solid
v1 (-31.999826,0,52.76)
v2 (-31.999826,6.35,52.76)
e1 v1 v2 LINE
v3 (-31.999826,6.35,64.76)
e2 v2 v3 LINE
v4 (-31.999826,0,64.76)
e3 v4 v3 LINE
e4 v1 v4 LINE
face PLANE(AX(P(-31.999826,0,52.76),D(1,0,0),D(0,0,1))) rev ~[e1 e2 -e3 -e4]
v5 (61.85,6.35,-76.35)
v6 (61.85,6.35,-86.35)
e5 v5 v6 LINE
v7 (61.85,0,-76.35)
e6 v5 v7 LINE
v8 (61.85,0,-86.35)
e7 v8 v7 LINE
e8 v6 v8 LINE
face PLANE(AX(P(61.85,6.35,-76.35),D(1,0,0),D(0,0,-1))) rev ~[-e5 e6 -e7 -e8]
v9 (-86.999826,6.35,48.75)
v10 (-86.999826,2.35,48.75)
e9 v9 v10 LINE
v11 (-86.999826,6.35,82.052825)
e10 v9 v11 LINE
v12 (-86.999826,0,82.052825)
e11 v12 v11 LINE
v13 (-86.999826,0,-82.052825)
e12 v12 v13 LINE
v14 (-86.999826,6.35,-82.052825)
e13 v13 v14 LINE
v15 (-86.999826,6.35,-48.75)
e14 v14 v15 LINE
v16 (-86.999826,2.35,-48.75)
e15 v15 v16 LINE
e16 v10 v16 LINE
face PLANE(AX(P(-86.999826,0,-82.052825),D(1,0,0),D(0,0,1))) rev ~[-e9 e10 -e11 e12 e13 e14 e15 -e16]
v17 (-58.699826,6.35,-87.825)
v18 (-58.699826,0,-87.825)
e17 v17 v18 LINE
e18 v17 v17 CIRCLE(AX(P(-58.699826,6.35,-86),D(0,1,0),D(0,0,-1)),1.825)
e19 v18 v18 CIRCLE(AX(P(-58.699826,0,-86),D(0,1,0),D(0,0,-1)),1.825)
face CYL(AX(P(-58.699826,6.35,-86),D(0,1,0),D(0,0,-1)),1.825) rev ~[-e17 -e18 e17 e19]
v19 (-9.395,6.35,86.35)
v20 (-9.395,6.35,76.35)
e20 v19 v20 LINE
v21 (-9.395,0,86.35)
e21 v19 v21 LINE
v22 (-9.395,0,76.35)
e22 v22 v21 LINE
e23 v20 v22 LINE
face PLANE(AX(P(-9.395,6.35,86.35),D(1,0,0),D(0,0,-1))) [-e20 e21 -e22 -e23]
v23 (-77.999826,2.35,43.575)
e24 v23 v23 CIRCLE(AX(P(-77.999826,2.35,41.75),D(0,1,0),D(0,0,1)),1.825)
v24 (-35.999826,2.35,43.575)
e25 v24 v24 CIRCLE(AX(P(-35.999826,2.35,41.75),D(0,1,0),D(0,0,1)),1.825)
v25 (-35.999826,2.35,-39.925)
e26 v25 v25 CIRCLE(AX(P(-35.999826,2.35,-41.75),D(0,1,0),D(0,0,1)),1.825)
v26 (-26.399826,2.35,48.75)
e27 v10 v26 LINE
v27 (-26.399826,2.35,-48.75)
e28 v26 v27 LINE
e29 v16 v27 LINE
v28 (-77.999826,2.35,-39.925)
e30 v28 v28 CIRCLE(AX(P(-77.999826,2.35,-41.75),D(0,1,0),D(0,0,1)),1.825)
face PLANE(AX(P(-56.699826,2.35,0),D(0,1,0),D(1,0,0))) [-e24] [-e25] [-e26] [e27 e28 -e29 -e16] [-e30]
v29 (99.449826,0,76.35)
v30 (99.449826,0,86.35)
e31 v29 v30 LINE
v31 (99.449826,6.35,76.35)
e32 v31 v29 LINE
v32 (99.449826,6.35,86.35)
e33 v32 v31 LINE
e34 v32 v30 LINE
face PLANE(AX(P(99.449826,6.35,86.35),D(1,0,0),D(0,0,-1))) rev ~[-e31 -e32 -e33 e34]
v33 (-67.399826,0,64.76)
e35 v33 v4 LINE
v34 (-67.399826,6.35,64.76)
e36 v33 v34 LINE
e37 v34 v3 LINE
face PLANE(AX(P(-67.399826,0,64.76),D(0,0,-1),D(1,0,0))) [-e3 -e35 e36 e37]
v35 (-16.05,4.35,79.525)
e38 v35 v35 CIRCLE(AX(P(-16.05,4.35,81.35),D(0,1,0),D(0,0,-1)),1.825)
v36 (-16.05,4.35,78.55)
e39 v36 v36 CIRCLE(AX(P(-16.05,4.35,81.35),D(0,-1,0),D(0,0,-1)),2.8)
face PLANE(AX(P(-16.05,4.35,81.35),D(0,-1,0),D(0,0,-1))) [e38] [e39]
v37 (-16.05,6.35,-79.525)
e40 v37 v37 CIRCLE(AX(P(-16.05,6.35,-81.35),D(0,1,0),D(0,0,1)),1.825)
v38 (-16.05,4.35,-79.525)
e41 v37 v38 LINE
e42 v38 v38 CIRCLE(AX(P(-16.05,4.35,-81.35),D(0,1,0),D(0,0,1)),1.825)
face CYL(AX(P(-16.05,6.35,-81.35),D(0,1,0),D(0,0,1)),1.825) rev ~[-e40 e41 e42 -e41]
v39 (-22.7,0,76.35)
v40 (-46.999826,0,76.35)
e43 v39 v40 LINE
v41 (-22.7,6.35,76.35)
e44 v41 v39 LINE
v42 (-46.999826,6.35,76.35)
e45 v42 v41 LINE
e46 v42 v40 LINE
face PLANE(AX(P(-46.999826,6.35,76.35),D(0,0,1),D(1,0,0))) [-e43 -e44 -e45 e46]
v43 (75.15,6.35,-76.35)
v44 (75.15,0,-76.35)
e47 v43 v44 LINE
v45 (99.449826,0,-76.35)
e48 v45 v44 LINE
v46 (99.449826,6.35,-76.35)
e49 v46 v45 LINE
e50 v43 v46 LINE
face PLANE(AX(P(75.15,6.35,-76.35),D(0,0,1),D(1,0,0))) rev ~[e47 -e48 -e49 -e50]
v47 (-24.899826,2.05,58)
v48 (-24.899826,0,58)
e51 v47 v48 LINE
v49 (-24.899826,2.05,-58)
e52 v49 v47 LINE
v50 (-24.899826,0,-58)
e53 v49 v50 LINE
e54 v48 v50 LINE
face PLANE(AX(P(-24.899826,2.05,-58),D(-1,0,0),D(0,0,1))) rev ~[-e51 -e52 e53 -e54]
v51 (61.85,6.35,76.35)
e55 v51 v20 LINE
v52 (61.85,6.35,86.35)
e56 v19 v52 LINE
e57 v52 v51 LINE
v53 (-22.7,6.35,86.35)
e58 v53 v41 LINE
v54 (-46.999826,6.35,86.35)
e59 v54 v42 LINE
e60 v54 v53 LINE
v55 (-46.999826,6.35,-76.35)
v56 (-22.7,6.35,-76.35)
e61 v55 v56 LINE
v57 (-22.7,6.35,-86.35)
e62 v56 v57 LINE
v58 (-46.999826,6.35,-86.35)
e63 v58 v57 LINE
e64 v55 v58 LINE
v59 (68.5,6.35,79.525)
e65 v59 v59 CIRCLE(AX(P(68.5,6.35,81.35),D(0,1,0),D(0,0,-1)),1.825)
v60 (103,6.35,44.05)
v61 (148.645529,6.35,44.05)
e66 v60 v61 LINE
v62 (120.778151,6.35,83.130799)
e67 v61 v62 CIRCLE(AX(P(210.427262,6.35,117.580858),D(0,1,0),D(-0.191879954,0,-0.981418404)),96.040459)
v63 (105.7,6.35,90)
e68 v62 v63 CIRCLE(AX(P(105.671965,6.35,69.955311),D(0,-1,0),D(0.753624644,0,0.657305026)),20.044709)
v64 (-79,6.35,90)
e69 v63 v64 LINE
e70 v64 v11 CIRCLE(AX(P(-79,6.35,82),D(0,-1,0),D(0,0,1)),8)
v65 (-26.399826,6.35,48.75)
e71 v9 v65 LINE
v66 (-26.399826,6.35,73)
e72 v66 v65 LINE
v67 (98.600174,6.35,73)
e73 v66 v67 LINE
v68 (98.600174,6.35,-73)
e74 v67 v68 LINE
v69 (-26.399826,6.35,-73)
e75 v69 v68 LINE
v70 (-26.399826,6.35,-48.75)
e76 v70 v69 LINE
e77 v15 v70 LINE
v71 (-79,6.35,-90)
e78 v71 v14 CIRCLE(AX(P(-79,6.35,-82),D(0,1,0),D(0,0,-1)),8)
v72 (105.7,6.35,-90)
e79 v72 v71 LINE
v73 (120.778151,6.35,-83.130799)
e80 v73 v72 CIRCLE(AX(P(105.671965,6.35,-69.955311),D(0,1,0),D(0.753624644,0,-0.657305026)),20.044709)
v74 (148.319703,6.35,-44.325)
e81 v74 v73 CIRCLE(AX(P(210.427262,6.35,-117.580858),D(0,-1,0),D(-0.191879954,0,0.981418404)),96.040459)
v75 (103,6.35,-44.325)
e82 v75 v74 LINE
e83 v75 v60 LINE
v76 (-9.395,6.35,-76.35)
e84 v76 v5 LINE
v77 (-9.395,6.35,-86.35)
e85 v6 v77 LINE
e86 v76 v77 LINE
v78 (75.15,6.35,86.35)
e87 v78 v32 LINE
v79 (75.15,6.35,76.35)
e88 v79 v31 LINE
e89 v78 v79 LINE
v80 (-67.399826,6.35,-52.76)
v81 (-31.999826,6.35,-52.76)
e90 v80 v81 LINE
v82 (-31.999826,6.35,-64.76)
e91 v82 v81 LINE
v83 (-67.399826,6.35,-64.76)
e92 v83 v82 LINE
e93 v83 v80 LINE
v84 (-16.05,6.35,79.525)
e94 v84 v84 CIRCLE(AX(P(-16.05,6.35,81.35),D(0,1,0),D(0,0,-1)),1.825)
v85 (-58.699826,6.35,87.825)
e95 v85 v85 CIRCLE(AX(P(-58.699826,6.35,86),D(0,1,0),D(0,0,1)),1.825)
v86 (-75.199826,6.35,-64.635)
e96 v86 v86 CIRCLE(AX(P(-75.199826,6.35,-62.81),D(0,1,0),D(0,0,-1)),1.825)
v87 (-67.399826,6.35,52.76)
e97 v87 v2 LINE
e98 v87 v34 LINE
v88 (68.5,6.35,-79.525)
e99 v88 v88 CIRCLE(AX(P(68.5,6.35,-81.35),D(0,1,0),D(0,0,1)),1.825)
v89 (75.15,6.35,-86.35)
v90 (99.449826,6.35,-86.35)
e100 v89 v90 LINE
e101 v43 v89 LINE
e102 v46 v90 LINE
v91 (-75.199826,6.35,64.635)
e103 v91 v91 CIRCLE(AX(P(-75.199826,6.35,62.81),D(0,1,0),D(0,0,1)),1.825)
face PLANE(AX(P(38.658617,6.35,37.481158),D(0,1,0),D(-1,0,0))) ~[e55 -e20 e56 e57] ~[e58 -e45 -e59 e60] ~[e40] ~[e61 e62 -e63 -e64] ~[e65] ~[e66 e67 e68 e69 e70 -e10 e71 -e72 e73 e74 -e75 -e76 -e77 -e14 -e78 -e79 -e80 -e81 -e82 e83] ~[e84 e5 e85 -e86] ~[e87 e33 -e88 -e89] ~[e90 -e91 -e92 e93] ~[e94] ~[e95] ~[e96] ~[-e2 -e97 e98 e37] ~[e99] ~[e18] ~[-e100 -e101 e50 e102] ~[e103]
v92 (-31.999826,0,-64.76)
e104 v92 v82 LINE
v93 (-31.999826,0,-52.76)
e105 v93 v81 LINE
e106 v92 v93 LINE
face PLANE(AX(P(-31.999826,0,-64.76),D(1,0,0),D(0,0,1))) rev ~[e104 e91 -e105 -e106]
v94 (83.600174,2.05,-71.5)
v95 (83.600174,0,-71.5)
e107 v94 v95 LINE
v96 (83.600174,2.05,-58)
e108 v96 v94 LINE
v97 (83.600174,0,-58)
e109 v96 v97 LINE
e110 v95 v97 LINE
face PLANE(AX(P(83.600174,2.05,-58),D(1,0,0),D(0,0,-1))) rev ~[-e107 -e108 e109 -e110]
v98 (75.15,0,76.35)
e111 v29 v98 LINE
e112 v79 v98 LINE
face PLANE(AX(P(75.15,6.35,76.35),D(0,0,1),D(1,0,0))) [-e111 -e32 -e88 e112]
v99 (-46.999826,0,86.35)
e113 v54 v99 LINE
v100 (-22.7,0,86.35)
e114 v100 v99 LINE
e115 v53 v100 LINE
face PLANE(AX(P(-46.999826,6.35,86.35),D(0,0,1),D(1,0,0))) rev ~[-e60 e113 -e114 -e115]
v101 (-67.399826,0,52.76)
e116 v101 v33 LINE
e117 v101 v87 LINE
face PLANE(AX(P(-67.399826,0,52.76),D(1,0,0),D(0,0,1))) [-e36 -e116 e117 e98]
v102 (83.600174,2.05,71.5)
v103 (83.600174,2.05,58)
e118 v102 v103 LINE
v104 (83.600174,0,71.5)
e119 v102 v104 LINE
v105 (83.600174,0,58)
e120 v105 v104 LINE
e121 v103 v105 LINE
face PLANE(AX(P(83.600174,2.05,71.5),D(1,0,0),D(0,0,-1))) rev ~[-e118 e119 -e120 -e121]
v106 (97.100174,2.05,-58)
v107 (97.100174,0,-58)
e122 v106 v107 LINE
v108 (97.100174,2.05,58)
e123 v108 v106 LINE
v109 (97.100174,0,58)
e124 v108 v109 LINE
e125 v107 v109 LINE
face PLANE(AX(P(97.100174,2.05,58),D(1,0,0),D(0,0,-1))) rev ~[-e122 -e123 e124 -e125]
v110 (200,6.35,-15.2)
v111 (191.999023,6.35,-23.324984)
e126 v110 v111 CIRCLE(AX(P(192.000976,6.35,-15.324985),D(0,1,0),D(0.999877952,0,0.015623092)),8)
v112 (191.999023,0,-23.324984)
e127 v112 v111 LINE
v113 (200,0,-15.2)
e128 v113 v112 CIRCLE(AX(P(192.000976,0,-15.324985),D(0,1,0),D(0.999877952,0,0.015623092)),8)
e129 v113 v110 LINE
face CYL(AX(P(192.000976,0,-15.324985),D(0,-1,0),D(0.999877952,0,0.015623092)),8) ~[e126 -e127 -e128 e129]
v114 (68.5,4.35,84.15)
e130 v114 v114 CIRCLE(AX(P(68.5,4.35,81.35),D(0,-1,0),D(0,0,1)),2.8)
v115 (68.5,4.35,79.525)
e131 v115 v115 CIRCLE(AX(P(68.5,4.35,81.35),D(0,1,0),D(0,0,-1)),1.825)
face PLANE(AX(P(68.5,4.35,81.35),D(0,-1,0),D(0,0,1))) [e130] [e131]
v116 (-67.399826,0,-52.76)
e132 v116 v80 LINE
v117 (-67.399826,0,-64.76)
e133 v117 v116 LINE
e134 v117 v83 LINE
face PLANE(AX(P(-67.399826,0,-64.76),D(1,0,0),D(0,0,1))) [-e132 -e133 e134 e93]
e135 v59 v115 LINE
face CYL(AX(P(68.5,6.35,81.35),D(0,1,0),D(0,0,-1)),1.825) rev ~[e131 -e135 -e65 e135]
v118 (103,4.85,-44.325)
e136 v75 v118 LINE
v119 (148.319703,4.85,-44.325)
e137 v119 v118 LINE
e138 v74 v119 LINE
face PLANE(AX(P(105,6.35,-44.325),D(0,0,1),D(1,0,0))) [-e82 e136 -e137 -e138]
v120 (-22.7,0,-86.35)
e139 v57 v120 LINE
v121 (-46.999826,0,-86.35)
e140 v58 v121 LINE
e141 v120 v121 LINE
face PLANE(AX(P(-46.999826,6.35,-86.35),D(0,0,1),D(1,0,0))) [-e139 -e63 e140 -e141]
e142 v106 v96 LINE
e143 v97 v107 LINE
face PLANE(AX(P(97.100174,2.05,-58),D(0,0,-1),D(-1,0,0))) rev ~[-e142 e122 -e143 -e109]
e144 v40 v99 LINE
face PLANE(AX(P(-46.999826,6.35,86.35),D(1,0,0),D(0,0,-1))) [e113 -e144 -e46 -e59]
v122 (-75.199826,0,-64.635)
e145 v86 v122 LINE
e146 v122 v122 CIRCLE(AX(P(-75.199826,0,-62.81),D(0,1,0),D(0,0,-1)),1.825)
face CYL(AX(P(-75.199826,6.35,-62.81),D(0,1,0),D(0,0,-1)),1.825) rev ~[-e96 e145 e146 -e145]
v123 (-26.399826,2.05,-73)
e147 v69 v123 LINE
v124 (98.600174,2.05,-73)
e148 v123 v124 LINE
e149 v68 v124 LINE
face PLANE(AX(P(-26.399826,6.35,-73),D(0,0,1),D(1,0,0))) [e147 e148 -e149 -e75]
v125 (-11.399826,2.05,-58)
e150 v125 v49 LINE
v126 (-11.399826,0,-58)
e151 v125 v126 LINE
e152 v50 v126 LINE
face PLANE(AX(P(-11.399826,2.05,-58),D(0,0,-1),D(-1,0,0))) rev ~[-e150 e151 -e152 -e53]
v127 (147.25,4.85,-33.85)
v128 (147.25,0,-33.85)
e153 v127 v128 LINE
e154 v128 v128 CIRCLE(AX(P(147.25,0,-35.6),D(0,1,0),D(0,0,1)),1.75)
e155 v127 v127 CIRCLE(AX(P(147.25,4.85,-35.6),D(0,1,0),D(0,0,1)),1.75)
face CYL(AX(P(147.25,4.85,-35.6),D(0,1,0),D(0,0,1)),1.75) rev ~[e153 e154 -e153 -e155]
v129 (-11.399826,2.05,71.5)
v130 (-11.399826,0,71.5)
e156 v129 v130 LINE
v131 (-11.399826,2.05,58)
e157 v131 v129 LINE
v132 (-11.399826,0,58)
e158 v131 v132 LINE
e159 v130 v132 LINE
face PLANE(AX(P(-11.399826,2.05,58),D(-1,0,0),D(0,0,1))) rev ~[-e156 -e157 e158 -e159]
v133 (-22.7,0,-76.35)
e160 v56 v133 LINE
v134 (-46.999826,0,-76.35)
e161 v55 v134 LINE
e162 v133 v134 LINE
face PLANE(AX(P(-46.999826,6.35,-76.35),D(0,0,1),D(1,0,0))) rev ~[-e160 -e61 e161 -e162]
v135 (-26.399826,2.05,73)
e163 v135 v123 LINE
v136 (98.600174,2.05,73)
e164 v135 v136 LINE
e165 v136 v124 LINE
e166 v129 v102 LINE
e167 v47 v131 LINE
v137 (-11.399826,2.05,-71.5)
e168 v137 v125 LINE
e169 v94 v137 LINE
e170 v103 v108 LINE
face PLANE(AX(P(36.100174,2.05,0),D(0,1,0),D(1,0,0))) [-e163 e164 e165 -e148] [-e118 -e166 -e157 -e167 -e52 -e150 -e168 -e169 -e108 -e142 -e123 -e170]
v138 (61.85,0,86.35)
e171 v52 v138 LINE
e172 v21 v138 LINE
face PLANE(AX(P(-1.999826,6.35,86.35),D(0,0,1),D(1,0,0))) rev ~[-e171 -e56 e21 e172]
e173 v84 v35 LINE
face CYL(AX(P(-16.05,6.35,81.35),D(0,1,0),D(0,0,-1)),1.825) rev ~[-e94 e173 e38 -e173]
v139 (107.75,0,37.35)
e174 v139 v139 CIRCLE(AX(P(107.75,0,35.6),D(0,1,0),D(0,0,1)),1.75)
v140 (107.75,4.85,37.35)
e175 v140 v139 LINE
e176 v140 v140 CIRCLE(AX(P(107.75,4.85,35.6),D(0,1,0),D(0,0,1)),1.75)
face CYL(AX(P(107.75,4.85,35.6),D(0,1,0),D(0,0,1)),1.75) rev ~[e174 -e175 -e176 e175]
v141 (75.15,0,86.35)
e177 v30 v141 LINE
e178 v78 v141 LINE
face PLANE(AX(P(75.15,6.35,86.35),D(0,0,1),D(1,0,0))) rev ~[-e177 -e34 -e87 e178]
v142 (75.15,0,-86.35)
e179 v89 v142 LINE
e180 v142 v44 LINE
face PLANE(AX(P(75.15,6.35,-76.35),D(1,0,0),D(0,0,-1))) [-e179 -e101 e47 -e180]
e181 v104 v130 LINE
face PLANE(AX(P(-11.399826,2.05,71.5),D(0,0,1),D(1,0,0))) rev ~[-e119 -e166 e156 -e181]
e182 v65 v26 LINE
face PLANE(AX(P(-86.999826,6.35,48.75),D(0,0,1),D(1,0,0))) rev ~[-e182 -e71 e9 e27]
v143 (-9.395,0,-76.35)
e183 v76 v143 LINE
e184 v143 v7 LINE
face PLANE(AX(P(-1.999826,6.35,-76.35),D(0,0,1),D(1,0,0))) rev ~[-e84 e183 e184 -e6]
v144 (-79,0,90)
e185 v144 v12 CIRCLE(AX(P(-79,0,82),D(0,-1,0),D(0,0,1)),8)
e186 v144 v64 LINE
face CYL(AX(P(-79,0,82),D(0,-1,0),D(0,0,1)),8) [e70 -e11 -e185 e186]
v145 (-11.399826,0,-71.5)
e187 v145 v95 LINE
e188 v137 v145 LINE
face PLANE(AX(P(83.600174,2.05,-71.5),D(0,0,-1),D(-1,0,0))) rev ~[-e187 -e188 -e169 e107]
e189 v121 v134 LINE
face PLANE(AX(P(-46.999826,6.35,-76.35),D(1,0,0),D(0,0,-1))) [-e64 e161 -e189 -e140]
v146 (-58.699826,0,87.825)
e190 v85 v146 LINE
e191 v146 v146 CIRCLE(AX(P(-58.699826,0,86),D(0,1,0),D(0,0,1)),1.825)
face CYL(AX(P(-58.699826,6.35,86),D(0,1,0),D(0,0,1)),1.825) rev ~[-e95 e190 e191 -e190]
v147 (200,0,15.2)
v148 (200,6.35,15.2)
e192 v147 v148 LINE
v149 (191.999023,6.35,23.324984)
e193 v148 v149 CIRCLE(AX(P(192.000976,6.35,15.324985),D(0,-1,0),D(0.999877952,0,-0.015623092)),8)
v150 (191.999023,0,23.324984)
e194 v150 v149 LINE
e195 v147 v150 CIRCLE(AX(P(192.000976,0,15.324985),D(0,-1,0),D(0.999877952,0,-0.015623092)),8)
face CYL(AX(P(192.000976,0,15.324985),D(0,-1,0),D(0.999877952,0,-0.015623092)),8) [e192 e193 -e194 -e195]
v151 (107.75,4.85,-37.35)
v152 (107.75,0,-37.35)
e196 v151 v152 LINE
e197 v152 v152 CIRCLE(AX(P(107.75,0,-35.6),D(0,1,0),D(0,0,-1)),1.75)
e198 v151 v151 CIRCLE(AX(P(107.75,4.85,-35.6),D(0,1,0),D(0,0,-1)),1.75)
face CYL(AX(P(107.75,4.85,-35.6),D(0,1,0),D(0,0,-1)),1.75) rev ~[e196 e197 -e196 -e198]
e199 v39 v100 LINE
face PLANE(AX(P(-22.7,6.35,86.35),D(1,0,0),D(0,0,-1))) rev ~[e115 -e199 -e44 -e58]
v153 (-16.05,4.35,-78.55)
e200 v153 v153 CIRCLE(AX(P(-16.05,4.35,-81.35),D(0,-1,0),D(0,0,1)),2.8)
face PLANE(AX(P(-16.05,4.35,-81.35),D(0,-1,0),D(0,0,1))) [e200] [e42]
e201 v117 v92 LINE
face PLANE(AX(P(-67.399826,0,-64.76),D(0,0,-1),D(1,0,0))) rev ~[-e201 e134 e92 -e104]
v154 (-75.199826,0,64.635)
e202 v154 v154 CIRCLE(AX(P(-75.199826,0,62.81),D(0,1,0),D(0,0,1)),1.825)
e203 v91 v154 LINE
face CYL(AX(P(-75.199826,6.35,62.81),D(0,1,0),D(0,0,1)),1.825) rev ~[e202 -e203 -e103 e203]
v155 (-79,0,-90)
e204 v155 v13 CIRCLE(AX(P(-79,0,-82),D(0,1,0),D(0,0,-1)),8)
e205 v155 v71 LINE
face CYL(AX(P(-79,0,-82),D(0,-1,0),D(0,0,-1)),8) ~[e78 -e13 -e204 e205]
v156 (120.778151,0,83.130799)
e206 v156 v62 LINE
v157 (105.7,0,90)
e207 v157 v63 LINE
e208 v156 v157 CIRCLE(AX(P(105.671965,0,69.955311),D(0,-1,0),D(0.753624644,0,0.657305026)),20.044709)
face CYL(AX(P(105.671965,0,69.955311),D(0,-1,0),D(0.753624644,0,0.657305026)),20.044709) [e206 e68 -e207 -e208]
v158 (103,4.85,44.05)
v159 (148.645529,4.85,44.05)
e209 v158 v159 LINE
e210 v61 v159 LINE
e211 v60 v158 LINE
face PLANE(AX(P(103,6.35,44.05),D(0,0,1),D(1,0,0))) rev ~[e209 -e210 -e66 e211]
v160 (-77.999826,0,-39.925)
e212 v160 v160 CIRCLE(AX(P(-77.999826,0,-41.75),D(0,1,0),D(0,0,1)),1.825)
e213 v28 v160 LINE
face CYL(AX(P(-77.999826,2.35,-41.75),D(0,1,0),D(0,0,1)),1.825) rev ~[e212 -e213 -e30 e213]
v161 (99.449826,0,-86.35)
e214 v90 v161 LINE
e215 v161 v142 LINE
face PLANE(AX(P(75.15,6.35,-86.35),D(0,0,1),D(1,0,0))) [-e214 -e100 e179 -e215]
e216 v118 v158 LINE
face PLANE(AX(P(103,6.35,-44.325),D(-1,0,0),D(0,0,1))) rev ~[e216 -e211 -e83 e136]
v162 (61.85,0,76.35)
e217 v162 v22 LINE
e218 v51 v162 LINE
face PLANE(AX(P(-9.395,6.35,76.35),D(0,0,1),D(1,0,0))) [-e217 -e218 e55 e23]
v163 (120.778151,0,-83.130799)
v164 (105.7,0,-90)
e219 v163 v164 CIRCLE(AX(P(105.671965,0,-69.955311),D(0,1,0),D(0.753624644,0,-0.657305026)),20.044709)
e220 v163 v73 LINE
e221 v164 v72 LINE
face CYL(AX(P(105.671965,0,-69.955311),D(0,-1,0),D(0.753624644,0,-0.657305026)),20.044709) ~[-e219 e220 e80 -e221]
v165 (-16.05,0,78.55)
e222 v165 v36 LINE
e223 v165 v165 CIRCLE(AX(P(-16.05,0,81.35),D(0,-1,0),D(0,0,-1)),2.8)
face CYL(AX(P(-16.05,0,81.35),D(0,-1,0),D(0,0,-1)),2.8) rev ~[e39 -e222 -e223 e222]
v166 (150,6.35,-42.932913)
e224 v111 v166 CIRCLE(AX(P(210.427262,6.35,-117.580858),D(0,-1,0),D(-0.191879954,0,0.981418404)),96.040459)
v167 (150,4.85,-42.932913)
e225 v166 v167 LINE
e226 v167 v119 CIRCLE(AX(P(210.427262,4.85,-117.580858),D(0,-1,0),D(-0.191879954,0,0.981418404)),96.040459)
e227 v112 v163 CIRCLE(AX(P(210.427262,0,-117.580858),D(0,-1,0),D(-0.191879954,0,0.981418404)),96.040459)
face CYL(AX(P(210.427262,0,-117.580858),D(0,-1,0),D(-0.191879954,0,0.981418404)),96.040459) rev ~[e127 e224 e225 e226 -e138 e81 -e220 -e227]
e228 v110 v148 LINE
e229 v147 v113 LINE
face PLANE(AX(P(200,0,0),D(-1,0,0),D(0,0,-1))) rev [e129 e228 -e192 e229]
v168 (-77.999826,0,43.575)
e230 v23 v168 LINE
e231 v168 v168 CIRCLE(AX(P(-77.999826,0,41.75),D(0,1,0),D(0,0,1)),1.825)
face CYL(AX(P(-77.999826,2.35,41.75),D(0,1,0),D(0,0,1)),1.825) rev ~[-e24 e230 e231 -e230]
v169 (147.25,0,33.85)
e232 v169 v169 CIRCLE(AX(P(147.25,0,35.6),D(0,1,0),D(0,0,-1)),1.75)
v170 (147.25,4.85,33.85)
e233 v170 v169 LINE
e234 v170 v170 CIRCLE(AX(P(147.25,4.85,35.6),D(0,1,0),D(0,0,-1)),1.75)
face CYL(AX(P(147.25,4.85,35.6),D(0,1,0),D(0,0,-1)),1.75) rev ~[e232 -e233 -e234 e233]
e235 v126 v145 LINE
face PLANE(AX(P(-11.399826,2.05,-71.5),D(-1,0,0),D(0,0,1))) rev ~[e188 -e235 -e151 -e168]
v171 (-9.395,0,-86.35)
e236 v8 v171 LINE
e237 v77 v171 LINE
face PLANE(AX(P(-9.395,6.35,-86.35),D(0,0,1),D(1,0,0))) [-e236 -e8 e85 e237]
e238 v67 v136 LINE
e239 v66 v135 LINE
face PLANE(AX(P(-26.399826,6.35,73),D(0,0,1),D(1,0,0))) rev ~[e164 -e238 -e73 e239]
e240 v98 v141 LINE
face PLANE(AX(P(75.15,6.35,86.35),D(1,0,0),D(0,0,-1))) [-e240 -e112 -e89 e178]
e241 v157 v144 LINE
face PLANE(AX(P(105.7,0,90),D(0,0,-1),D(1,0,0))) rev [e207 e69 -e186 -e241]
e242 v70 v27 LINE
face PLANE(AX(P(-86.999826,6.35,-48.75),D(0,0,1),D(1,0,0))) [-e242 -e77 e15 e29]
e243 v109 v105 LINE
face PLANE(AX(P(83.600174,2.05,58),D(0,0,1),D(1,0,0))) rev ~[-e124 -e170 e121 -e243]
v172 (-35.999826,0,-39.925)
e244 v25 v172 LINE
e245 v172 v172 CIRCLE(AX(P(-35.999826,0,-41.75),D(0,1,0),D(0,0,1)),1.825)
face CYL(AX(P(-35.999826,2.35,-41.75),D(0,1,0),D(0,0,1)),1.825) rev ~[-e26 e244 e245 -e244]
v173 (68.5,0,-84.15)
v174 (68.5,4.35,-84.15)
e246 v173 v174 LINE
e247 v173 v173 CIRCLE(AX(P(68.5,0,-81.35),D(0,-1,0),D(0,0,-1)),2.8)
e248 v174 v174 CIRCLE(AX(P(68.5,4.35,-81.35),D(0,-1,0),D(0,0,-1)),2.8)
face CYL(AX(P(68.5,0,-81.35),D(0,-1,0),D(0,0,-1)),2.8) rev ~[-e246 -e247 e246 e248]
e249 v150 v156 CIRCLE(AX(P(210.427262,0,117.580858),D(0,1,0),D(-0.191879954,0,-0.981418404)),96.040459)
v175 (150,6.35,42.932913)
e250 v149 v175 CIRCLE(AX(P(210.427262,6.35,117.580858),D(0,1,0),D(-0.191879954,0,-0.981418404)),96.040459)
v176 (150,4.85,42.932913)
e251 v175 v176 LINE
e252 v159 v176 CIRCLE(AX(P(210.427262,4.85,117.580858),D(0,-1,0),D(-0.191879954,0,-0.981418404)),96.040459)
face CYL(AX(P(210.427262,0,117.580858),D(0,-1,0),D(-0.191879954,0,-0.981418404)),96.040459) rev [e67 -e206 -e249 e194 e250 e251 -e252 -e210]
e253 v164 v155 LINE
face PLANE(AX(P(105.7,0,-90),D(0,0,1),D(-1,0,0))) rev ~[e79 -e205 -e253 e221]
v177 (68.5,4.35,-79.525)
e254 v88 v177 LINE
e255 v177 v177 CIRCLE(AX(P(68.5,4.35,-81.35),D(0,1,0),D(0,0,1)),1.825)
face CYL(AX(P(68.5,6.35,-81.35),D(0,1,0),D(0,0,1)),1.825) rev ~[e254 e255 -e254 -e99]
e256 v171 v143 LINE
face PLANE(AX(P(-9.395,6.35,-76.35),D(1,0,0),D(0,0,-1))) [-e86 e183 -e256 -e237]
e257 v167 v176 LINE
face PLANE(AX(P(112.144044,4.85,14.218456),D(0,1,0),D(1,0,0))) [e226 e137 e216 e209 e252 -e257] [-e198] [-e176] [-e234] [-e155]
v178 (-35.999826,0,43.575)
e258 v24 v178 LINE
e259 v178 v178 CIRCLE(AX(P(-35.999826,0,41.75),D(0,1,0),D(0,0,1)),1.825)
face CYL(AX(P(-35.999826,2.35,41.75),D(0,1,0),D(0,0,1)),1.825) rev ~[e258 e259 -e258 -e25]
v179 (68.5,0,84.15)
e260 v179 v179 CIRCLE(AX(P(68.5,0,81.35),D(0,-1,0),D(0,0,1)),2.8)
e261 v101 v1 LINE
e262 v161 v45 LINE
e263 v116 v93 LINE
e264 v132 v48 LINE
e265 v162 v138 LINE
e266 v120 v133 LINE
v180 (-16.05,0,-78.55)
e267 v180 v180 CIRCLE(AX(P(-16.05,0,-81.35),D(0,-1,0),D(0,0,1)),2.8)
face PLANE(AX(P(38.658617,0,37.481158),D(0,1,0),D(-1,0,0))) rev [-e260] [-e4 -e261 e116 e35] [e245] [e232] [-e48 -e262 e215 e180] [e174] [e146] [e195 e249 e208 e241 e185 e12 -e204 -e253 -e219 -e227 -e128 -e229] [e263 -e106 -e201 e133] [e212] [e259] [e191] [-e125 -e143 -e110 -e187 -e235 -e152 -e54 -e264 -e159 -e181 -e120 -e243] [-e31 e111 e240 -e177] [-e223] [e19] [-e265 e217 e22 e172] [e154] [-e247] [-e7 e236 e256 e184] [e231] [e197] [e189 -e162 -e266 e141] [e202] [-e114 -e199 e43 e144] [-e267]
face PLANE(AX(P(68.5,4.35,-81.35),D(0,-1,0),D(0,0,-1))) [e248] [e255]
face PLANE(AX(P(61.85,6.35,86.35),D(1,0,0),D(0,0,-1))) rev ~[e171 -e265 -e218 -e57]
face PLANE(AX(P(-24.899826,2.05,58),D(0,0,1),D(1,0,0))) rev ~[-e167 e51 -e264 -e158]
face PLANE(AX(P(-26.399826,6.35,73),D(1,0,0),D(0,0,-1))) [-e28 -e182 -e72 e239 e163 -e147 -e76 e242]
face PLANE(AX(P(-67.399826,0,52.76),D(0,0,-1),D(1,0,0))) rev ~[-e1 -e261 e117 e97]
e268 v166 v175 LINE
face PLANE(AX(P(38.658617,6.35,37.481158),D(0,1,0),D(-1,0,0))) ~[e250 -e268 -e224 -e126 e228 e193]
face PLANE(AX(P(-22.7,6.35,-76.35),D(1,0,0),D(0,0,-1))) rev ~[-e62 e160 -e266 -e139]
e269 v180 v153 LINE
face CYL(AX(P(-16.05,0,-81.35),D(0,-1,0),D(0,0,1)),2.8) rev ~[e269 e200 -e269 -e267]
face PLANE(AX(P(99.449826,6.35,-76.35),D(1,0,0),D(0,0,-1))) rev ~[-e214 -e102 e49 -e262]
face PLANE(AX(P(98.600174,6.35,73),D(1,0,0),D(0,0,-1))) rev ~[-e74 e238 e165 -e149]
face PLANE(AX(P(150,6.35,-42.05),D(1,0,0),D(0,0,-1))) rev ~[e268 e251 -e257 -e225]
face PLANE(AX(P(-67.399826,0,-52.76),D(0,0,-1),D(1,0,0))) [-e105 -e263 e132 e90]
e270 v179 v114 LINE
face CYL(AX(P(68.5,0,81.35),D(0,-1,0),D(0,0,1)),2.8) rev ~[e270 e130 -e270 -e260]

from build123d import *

# Parameters (mm, degrees)
SALIENTE_EXTRUIR1_DEPTH = 6.35
CROQUIS2_R              = 1.825
CROQUIS2_W              = 63.849825594
CROQUIS2_H              = 10
CROQUIS2_W_2            = 24.299825594
CORTAR_EXTRUIR1_DEPTH   = 220.409920137
CROQUIS4_W              = 45
CROQUIS4_H              = 84.1
CORTAR_EXTRUIR3_DEPTH   = 1.5
CROQUIS5_R              = 1.75
CORTAR_EXTRUIR4_DEPTH   = 220.371632292
CROQUIS7_W              = 45
CROQUIS7_H              = 2.275
CORTAR_EXTRUIR5_DEPTH   = 1.5
CROQUIS9_W              = 125
CROQUIS9_H              = 146
CORTAR_EXTRUIR7_DEPTH   = 4.3
CROQUIS10_R             = 2.8
CORTAR_EXTRUIR8_DEPTH   = 4.35
CORTAR_EXTRUIR12_DEPTH  = 220.409920137
CORTAR_EXTRUIR15_DEPTH  = 1.5
CROQUIS19_W             = 7.395174406
CROQUIS19_H             = 10
CORTAR_EXTRUIR16_DEPTH  = 220.409920137
CROQUIS20_W             = 60.600000004
CROQUIS20_H             = 97.5
CORTAR_EXTRUIR17_DEPTH  = 4
CROQUIS21_R             = 1.825
CORTAR_EXTRUIR18_DEPTH  = 220.354486059
CROQUIS25_W             = 35.4
CROQUIS25_H             = 12
CORTAR_EXTRUIR21_DEPTH  = 220.409920137
CORTAR_EXTRUIR22_DEPTH  = 220.36016173
CROQUIS28_R             = 1.825
CORTAR_EXTRUIR24_DEPTH  = 220.409920137


with BuildPart() as part:
    # Croquis1 → Saliente-Extruir1 (new body)
    with BuildSketch(Plane(origin=(0, 0, 0), x_dir=(1, 0, 0), z_dir=(0, 1, 0))):
        with BuildLine():
            Line((0, 0), (200, 0))
            Line((200, 0), (200, 15.2))
            ThreePointArc((200, 15.2), (197.701163079, 20.938172036), (191.9990235, 23.3249845))
            ThreePointArc((191.9990235, 23.3249845), (148.666739026, 44.032184001), (120.7781513, 83.1307986))
            ThreePointArc((120.7781513, 83.1307986), (113.982057966, 88.196272982), (105.7, 90))
            Line((105.7, 90), (0, 90))
            Line((0, 90), (-79, 90))
            ThreePointArc((-79, 90), (-84.638146896, 87.675499941), (-86.999825594, 82.052824894))
            Line((-86.999825594, 82.052824894), (-86.999825594, 41.494023494))
            ThreePointArc((-86.999825594, 41.494023494), (-92.052704294, 29.329564667), (-102.353503833, 21.119864881))
            ThreePointArc((-102.353503833, 21.119864881), (-108.040391417, 18.79326931), (-110.4, 13.12))
            Line((-110.4, 13.12), (-110.4, 0))
            Line((-110.4, 0), (0, 0))
        make_face()
    extrude(amount=SALIENTE_EXTRUIR1_DEPTH)

    # Simetría2: part across plane


with BuildPart() as part_1:
    add(part.part)
    add(part.part.mirror(Plane(origin=(0, 6.35, 0), x_dir=(1, 0, 0), z_dir=(0, 0, -1))))

    # Croquis2 → Cortar-Extruir1 (cut, through all)
    with BuildSketch(Plane(origin=(0, 6.35, 0), x_dir=(1, 0, 0), z_dir=(0, 1, 0))):
        with Locations(Location((68.5, 81.35, 0), (0, 0, 270))):
            Circle(CROQUIS2_R)
        with Locations(Location((-16.05, 81.35, 0), (0, 0, 270))):
            Circle(CROQUIS2_R)
        with Locations(Location((68.5, -81.35, 0), (0, 0, 90))):
            Circle(CROQUIS2_R)
        with Locations(Location((-16.05, -81.35, 0), (0, 0, 90))):
            Circle(CROQUIS2_R)
        with Locations((29.925087203, -81.35)):
            Rectangle(CROQUIS2_W, CROQUIS2_H)
        with Locations((-34.849912797, -81.35)):
            Rectangle(CROQUIS2_W_2, CROQUIS2_H)
        with Locations((87.299912797, -81.35)):
            Rectangle(CROQUIS2_W_2, CROQUIS2_H)
        with Locations((-34.849912797, 81.35)):
            Rectangle(CROQUIS2_W_2, CROQUIS2_H)
        with Locations((29.925087203, 81.35)):
            Rectangle(CROQUIS2_W, CROQUIS2_H)
        with Locations((87.299912797, 81.35)):
            Rectangle(CROQUIS2_W_2, CROQUIS2_H)
    extrude(amount=-CORTAR_EXTRUIR1_DEPTH, mode=Mode.SUBTRACT)

    # Croquis4 → Cortar-Extruir3 (cut)
    with BuildSketch(Plane(origin=(0, 6.35, 0), x_dir=(1, 0, 0), z_dir=(0, 1, 0))):
        with Locations((127.5, 0)):
            Rectangle(CROQUIS4_W, CROQUIS4_H)
    extrude(amount=-CORTAR_EXTRUIR3_DEPTH, mode=Mode.SUBTRACT)

    # Croquis5 → Cortar-Extruir4 (cut, through all)
    with BuildSketch(Plane(origin=(0, 4.85, 0), x_dir=(1, 0, 0), z_dir=(0, 1, 0))):
        with Locations(Location((147.25, 35.6, 0), (0, 0, 270))):
            Circle(CROQUIS5_R)
        with Locations(Location((107.75, 35.6, 0), (0, 0, 90))):
            Circle(CROQUIS5_R)
        with Locations(Location((147.25, -35.6, 0), (0, 0, 90))):
            Circle(CROQUIS5_R)
        with Locations(Location((107.75, -35.6, 0), (0, 0, 270))):
            Circle(CROQUIS5_R)
    extrude(amount=-CORTAR_EXTRUIR4_DEPTH, mode=Mode.SUBTRACT)

    # Croquis7 → Cortar-Extruir5 (cut)
    with BuildSketch(Plane(origin=(0, 6.35, 0), x_dir=(1, 0, 0), z_dir=(0, 1, 0))):
        with Locations((127.5, 43.1875)):
            Rectangle(CROQUIS7_W, CROQUIS7_H)
    extrude(amount=-CORTAR_EXTRUIR5_DEPTH, mode=Mode.SUBTRACT)

    # Croquis9 → Cortar-Extruir7 (cut)
    with BuildSketch(Plane(origin=(0, 6.35, 0), x_dir=(1, 0, 0), z_dir=(0, 1, 0))):
        with Locations((36.10017441, 0)):
            Rectangle(CROQUIS9_W, CROQUIS9_H)
    extrude(amount=-CORTAR_EXTRUIR7_DEPTH, mode=Mode.SUBTRACT)

    # Croquis10 → Cortar-Extruir8 (cut)
    with BuildSketch(Plane.XZ):
        with Locations(Location((-16.05, 81.35, 0), (0, 0, 270))):
            Circle(CROQUIS10_R)
        with Locations(Location((-16.05, -81.35, 0), (0, 0, 90))):
            Circle(CROQUIS10_R)
        with Locations(Location((68.5, -81.35, 0), (0, 0, 270))):
            Circle(CROQUIS10_R)
        with Locations(Location((68.5, 81.35, 0), (0, 0, 90))):
            Circle(CROQUIS10_R)
    extrude(amount=-CORTAR_EXTRUIR8_DEPTH, mode=Mode.SUBTRACT)

    # Croquis16 → Cortar-Extruir12 (cut, through all)
    with BuildSketch(Plane(origin=(0, 6.35, 0), x_dir=(1, 0, 0), z_dir=(0, 1, 0))):
        Polygon((-86.999825594, 41.494023494), (-110.4, 41.494023494), (-110.4, 13.12), (-110.4, -13.12), (-110.4, -41.494023494), (-86.999825594, -41.494023494), align=None)
    extrude(amount=-CORTAR_EXTRUIR12_DEPTH, mode=Mode.SUBTRACT)

    # Croquis18 → Cortar-Extruir15 (cut)
    with BuildSketch(Plane(origin=(0, 6.35, 0), x_dir=(1, 0, 0), z_dir=(0, 1, 0))):
        Polygon((105, 44.325), (103, 44.325), (103, -44.05), (150, -44.05), (150, -42.05), (105, -42.05), align=None)
    extrude(amount=-CORTAR_EXTRUIR15_DEPTH, mode=Mode.SUBTRACT)

    # Croquis19 → Cortar-Extruir16 (cut, through all)
    with BuildSketch(Plane(origin=(0, 6.35, 0), x_dir=(1, 0, 0), z_dir=(0, 1, 0))):
        with Locations((-5.697412797, 81.35)):
            Rectangle(CROQUIS19_W, CROQUIS19_H)
        with Locations((-5.697412797, -81.35)):
            Rectangle(CROQUIS19_W, CROQUIS19_H)
    extrude(amount=-CORTAR_EXTRUIR16_DEPTH, mode=Mode.SUBTRACT)

    # Croquis20 → Cortar-Extruir17 (cut)
    with BuildSketch(Plane(origin=(0, 6.35, 0), x_dir=(1, 0, 0), z_dir=(0, 1, 0))):
        with Locations((-56.699825592, 0)):
            Rectangle(CROQUIS20_W, CROQUIS20_H)
    extrude(amount=-CORTAR_EXTRUIR17_DEPTH, mode=Mode.SUBTRACT)

    # Croquis21 → Cortar-Extruir18 (cut, through all)
    with BuildSketch(Plane(origin=(0, 2.35, 0), x_dir=(1, 0, 0), z_dir=(0, 1, 0))):
        with Locations(Location((-77.999825594, 41.75, 0), (0, 0, 270))):
            Circle(CROQUIS21_R)
        with Locations(Location((-35.999825594, 41.75, 0), (0, 0, 270))):
            Circle(CROQUIS21_R)
        with Locations(Location((-35.999825594, -41.75, 0), (0, 0, 270))):
            Circle(CROQUIS21_R)
        with Locations(Location((-77.999825594, -41.75, 0), (0, 0, 270))):
            Circle(CROQUIS21_R)
    extrude(amount=-CORTAR_EXTRUIR18_DEPTH, mode=Mode.SUBTRACT)

    # Croquis25 → Cortar-Extruir21 (cut, through all)
    with BuildSketch(Plane.XZ):
        with Locations((-49.699825594, 58.76)):
            Rectangle(CROQUIS25_W, CROQUIS25_H)
        with Locations((-49.699825594, -58.76)):
            Rectangle(CROQUIS25_W, CROQUIS25_H)
    extrude(amount=-CORTAR_EXTRUIR21_DEPTH, mode=Mode.SUBTRACT)

    # Croquis26 → Cortar-Extruir22 (cut, through all)
    with BuildSketch(Plane(origin=(0, 2.05, 0), x_dir=(1, 0, 0), z_dir=(0, 1, 0))):
        Polygon((-11.39982559, 71.5), (-11.39982559, 58), (-24.89982559, 58), (-24.89982559, -58), (-11.39982559, -58), (-11.39982559, -71.5), (83.60017441, -71.5), (83.60017441, -58), (97.10017441, -58), (97.10017441, 58), (83.60017441, 58), (83.60017441, 71.5), align=None)
    extrude(amount=-CORTAR_EXTRUIR22_DEPTH, mode=Mode.SUBTRACT)

    # Croquis28 → Cortar-Extruir24 (cut, through all)
    with BuildSketch(Plane(origin=(0, 6.35, 0), x_dir=(1, 0, 0), z_dir=(0, 1, 0))):
        with Locations(Location((-75.199825594, -62.81, 0), (0, 0, 270))):
            Circle(CROQUIS28_R)
        with Locations(Location((-58.699825594, -86, 0), (0, 0, 270))):
            Circle(CROQUIS28_R)
        with Locations(Location((-75.199825594, 62.81, 0), (0, 0, 90))):
            Circle(CROQUIS28_R)
        with Locations(Location((-58.699825594, 86, 0), (0, 0, 90))):
            Circle(CROQUIS28_R)
    extrude(amount=-CORTAR_EXTRUIR24_DEPTH, mode=Mode.SUBTRACT)


solid = part_1.part
